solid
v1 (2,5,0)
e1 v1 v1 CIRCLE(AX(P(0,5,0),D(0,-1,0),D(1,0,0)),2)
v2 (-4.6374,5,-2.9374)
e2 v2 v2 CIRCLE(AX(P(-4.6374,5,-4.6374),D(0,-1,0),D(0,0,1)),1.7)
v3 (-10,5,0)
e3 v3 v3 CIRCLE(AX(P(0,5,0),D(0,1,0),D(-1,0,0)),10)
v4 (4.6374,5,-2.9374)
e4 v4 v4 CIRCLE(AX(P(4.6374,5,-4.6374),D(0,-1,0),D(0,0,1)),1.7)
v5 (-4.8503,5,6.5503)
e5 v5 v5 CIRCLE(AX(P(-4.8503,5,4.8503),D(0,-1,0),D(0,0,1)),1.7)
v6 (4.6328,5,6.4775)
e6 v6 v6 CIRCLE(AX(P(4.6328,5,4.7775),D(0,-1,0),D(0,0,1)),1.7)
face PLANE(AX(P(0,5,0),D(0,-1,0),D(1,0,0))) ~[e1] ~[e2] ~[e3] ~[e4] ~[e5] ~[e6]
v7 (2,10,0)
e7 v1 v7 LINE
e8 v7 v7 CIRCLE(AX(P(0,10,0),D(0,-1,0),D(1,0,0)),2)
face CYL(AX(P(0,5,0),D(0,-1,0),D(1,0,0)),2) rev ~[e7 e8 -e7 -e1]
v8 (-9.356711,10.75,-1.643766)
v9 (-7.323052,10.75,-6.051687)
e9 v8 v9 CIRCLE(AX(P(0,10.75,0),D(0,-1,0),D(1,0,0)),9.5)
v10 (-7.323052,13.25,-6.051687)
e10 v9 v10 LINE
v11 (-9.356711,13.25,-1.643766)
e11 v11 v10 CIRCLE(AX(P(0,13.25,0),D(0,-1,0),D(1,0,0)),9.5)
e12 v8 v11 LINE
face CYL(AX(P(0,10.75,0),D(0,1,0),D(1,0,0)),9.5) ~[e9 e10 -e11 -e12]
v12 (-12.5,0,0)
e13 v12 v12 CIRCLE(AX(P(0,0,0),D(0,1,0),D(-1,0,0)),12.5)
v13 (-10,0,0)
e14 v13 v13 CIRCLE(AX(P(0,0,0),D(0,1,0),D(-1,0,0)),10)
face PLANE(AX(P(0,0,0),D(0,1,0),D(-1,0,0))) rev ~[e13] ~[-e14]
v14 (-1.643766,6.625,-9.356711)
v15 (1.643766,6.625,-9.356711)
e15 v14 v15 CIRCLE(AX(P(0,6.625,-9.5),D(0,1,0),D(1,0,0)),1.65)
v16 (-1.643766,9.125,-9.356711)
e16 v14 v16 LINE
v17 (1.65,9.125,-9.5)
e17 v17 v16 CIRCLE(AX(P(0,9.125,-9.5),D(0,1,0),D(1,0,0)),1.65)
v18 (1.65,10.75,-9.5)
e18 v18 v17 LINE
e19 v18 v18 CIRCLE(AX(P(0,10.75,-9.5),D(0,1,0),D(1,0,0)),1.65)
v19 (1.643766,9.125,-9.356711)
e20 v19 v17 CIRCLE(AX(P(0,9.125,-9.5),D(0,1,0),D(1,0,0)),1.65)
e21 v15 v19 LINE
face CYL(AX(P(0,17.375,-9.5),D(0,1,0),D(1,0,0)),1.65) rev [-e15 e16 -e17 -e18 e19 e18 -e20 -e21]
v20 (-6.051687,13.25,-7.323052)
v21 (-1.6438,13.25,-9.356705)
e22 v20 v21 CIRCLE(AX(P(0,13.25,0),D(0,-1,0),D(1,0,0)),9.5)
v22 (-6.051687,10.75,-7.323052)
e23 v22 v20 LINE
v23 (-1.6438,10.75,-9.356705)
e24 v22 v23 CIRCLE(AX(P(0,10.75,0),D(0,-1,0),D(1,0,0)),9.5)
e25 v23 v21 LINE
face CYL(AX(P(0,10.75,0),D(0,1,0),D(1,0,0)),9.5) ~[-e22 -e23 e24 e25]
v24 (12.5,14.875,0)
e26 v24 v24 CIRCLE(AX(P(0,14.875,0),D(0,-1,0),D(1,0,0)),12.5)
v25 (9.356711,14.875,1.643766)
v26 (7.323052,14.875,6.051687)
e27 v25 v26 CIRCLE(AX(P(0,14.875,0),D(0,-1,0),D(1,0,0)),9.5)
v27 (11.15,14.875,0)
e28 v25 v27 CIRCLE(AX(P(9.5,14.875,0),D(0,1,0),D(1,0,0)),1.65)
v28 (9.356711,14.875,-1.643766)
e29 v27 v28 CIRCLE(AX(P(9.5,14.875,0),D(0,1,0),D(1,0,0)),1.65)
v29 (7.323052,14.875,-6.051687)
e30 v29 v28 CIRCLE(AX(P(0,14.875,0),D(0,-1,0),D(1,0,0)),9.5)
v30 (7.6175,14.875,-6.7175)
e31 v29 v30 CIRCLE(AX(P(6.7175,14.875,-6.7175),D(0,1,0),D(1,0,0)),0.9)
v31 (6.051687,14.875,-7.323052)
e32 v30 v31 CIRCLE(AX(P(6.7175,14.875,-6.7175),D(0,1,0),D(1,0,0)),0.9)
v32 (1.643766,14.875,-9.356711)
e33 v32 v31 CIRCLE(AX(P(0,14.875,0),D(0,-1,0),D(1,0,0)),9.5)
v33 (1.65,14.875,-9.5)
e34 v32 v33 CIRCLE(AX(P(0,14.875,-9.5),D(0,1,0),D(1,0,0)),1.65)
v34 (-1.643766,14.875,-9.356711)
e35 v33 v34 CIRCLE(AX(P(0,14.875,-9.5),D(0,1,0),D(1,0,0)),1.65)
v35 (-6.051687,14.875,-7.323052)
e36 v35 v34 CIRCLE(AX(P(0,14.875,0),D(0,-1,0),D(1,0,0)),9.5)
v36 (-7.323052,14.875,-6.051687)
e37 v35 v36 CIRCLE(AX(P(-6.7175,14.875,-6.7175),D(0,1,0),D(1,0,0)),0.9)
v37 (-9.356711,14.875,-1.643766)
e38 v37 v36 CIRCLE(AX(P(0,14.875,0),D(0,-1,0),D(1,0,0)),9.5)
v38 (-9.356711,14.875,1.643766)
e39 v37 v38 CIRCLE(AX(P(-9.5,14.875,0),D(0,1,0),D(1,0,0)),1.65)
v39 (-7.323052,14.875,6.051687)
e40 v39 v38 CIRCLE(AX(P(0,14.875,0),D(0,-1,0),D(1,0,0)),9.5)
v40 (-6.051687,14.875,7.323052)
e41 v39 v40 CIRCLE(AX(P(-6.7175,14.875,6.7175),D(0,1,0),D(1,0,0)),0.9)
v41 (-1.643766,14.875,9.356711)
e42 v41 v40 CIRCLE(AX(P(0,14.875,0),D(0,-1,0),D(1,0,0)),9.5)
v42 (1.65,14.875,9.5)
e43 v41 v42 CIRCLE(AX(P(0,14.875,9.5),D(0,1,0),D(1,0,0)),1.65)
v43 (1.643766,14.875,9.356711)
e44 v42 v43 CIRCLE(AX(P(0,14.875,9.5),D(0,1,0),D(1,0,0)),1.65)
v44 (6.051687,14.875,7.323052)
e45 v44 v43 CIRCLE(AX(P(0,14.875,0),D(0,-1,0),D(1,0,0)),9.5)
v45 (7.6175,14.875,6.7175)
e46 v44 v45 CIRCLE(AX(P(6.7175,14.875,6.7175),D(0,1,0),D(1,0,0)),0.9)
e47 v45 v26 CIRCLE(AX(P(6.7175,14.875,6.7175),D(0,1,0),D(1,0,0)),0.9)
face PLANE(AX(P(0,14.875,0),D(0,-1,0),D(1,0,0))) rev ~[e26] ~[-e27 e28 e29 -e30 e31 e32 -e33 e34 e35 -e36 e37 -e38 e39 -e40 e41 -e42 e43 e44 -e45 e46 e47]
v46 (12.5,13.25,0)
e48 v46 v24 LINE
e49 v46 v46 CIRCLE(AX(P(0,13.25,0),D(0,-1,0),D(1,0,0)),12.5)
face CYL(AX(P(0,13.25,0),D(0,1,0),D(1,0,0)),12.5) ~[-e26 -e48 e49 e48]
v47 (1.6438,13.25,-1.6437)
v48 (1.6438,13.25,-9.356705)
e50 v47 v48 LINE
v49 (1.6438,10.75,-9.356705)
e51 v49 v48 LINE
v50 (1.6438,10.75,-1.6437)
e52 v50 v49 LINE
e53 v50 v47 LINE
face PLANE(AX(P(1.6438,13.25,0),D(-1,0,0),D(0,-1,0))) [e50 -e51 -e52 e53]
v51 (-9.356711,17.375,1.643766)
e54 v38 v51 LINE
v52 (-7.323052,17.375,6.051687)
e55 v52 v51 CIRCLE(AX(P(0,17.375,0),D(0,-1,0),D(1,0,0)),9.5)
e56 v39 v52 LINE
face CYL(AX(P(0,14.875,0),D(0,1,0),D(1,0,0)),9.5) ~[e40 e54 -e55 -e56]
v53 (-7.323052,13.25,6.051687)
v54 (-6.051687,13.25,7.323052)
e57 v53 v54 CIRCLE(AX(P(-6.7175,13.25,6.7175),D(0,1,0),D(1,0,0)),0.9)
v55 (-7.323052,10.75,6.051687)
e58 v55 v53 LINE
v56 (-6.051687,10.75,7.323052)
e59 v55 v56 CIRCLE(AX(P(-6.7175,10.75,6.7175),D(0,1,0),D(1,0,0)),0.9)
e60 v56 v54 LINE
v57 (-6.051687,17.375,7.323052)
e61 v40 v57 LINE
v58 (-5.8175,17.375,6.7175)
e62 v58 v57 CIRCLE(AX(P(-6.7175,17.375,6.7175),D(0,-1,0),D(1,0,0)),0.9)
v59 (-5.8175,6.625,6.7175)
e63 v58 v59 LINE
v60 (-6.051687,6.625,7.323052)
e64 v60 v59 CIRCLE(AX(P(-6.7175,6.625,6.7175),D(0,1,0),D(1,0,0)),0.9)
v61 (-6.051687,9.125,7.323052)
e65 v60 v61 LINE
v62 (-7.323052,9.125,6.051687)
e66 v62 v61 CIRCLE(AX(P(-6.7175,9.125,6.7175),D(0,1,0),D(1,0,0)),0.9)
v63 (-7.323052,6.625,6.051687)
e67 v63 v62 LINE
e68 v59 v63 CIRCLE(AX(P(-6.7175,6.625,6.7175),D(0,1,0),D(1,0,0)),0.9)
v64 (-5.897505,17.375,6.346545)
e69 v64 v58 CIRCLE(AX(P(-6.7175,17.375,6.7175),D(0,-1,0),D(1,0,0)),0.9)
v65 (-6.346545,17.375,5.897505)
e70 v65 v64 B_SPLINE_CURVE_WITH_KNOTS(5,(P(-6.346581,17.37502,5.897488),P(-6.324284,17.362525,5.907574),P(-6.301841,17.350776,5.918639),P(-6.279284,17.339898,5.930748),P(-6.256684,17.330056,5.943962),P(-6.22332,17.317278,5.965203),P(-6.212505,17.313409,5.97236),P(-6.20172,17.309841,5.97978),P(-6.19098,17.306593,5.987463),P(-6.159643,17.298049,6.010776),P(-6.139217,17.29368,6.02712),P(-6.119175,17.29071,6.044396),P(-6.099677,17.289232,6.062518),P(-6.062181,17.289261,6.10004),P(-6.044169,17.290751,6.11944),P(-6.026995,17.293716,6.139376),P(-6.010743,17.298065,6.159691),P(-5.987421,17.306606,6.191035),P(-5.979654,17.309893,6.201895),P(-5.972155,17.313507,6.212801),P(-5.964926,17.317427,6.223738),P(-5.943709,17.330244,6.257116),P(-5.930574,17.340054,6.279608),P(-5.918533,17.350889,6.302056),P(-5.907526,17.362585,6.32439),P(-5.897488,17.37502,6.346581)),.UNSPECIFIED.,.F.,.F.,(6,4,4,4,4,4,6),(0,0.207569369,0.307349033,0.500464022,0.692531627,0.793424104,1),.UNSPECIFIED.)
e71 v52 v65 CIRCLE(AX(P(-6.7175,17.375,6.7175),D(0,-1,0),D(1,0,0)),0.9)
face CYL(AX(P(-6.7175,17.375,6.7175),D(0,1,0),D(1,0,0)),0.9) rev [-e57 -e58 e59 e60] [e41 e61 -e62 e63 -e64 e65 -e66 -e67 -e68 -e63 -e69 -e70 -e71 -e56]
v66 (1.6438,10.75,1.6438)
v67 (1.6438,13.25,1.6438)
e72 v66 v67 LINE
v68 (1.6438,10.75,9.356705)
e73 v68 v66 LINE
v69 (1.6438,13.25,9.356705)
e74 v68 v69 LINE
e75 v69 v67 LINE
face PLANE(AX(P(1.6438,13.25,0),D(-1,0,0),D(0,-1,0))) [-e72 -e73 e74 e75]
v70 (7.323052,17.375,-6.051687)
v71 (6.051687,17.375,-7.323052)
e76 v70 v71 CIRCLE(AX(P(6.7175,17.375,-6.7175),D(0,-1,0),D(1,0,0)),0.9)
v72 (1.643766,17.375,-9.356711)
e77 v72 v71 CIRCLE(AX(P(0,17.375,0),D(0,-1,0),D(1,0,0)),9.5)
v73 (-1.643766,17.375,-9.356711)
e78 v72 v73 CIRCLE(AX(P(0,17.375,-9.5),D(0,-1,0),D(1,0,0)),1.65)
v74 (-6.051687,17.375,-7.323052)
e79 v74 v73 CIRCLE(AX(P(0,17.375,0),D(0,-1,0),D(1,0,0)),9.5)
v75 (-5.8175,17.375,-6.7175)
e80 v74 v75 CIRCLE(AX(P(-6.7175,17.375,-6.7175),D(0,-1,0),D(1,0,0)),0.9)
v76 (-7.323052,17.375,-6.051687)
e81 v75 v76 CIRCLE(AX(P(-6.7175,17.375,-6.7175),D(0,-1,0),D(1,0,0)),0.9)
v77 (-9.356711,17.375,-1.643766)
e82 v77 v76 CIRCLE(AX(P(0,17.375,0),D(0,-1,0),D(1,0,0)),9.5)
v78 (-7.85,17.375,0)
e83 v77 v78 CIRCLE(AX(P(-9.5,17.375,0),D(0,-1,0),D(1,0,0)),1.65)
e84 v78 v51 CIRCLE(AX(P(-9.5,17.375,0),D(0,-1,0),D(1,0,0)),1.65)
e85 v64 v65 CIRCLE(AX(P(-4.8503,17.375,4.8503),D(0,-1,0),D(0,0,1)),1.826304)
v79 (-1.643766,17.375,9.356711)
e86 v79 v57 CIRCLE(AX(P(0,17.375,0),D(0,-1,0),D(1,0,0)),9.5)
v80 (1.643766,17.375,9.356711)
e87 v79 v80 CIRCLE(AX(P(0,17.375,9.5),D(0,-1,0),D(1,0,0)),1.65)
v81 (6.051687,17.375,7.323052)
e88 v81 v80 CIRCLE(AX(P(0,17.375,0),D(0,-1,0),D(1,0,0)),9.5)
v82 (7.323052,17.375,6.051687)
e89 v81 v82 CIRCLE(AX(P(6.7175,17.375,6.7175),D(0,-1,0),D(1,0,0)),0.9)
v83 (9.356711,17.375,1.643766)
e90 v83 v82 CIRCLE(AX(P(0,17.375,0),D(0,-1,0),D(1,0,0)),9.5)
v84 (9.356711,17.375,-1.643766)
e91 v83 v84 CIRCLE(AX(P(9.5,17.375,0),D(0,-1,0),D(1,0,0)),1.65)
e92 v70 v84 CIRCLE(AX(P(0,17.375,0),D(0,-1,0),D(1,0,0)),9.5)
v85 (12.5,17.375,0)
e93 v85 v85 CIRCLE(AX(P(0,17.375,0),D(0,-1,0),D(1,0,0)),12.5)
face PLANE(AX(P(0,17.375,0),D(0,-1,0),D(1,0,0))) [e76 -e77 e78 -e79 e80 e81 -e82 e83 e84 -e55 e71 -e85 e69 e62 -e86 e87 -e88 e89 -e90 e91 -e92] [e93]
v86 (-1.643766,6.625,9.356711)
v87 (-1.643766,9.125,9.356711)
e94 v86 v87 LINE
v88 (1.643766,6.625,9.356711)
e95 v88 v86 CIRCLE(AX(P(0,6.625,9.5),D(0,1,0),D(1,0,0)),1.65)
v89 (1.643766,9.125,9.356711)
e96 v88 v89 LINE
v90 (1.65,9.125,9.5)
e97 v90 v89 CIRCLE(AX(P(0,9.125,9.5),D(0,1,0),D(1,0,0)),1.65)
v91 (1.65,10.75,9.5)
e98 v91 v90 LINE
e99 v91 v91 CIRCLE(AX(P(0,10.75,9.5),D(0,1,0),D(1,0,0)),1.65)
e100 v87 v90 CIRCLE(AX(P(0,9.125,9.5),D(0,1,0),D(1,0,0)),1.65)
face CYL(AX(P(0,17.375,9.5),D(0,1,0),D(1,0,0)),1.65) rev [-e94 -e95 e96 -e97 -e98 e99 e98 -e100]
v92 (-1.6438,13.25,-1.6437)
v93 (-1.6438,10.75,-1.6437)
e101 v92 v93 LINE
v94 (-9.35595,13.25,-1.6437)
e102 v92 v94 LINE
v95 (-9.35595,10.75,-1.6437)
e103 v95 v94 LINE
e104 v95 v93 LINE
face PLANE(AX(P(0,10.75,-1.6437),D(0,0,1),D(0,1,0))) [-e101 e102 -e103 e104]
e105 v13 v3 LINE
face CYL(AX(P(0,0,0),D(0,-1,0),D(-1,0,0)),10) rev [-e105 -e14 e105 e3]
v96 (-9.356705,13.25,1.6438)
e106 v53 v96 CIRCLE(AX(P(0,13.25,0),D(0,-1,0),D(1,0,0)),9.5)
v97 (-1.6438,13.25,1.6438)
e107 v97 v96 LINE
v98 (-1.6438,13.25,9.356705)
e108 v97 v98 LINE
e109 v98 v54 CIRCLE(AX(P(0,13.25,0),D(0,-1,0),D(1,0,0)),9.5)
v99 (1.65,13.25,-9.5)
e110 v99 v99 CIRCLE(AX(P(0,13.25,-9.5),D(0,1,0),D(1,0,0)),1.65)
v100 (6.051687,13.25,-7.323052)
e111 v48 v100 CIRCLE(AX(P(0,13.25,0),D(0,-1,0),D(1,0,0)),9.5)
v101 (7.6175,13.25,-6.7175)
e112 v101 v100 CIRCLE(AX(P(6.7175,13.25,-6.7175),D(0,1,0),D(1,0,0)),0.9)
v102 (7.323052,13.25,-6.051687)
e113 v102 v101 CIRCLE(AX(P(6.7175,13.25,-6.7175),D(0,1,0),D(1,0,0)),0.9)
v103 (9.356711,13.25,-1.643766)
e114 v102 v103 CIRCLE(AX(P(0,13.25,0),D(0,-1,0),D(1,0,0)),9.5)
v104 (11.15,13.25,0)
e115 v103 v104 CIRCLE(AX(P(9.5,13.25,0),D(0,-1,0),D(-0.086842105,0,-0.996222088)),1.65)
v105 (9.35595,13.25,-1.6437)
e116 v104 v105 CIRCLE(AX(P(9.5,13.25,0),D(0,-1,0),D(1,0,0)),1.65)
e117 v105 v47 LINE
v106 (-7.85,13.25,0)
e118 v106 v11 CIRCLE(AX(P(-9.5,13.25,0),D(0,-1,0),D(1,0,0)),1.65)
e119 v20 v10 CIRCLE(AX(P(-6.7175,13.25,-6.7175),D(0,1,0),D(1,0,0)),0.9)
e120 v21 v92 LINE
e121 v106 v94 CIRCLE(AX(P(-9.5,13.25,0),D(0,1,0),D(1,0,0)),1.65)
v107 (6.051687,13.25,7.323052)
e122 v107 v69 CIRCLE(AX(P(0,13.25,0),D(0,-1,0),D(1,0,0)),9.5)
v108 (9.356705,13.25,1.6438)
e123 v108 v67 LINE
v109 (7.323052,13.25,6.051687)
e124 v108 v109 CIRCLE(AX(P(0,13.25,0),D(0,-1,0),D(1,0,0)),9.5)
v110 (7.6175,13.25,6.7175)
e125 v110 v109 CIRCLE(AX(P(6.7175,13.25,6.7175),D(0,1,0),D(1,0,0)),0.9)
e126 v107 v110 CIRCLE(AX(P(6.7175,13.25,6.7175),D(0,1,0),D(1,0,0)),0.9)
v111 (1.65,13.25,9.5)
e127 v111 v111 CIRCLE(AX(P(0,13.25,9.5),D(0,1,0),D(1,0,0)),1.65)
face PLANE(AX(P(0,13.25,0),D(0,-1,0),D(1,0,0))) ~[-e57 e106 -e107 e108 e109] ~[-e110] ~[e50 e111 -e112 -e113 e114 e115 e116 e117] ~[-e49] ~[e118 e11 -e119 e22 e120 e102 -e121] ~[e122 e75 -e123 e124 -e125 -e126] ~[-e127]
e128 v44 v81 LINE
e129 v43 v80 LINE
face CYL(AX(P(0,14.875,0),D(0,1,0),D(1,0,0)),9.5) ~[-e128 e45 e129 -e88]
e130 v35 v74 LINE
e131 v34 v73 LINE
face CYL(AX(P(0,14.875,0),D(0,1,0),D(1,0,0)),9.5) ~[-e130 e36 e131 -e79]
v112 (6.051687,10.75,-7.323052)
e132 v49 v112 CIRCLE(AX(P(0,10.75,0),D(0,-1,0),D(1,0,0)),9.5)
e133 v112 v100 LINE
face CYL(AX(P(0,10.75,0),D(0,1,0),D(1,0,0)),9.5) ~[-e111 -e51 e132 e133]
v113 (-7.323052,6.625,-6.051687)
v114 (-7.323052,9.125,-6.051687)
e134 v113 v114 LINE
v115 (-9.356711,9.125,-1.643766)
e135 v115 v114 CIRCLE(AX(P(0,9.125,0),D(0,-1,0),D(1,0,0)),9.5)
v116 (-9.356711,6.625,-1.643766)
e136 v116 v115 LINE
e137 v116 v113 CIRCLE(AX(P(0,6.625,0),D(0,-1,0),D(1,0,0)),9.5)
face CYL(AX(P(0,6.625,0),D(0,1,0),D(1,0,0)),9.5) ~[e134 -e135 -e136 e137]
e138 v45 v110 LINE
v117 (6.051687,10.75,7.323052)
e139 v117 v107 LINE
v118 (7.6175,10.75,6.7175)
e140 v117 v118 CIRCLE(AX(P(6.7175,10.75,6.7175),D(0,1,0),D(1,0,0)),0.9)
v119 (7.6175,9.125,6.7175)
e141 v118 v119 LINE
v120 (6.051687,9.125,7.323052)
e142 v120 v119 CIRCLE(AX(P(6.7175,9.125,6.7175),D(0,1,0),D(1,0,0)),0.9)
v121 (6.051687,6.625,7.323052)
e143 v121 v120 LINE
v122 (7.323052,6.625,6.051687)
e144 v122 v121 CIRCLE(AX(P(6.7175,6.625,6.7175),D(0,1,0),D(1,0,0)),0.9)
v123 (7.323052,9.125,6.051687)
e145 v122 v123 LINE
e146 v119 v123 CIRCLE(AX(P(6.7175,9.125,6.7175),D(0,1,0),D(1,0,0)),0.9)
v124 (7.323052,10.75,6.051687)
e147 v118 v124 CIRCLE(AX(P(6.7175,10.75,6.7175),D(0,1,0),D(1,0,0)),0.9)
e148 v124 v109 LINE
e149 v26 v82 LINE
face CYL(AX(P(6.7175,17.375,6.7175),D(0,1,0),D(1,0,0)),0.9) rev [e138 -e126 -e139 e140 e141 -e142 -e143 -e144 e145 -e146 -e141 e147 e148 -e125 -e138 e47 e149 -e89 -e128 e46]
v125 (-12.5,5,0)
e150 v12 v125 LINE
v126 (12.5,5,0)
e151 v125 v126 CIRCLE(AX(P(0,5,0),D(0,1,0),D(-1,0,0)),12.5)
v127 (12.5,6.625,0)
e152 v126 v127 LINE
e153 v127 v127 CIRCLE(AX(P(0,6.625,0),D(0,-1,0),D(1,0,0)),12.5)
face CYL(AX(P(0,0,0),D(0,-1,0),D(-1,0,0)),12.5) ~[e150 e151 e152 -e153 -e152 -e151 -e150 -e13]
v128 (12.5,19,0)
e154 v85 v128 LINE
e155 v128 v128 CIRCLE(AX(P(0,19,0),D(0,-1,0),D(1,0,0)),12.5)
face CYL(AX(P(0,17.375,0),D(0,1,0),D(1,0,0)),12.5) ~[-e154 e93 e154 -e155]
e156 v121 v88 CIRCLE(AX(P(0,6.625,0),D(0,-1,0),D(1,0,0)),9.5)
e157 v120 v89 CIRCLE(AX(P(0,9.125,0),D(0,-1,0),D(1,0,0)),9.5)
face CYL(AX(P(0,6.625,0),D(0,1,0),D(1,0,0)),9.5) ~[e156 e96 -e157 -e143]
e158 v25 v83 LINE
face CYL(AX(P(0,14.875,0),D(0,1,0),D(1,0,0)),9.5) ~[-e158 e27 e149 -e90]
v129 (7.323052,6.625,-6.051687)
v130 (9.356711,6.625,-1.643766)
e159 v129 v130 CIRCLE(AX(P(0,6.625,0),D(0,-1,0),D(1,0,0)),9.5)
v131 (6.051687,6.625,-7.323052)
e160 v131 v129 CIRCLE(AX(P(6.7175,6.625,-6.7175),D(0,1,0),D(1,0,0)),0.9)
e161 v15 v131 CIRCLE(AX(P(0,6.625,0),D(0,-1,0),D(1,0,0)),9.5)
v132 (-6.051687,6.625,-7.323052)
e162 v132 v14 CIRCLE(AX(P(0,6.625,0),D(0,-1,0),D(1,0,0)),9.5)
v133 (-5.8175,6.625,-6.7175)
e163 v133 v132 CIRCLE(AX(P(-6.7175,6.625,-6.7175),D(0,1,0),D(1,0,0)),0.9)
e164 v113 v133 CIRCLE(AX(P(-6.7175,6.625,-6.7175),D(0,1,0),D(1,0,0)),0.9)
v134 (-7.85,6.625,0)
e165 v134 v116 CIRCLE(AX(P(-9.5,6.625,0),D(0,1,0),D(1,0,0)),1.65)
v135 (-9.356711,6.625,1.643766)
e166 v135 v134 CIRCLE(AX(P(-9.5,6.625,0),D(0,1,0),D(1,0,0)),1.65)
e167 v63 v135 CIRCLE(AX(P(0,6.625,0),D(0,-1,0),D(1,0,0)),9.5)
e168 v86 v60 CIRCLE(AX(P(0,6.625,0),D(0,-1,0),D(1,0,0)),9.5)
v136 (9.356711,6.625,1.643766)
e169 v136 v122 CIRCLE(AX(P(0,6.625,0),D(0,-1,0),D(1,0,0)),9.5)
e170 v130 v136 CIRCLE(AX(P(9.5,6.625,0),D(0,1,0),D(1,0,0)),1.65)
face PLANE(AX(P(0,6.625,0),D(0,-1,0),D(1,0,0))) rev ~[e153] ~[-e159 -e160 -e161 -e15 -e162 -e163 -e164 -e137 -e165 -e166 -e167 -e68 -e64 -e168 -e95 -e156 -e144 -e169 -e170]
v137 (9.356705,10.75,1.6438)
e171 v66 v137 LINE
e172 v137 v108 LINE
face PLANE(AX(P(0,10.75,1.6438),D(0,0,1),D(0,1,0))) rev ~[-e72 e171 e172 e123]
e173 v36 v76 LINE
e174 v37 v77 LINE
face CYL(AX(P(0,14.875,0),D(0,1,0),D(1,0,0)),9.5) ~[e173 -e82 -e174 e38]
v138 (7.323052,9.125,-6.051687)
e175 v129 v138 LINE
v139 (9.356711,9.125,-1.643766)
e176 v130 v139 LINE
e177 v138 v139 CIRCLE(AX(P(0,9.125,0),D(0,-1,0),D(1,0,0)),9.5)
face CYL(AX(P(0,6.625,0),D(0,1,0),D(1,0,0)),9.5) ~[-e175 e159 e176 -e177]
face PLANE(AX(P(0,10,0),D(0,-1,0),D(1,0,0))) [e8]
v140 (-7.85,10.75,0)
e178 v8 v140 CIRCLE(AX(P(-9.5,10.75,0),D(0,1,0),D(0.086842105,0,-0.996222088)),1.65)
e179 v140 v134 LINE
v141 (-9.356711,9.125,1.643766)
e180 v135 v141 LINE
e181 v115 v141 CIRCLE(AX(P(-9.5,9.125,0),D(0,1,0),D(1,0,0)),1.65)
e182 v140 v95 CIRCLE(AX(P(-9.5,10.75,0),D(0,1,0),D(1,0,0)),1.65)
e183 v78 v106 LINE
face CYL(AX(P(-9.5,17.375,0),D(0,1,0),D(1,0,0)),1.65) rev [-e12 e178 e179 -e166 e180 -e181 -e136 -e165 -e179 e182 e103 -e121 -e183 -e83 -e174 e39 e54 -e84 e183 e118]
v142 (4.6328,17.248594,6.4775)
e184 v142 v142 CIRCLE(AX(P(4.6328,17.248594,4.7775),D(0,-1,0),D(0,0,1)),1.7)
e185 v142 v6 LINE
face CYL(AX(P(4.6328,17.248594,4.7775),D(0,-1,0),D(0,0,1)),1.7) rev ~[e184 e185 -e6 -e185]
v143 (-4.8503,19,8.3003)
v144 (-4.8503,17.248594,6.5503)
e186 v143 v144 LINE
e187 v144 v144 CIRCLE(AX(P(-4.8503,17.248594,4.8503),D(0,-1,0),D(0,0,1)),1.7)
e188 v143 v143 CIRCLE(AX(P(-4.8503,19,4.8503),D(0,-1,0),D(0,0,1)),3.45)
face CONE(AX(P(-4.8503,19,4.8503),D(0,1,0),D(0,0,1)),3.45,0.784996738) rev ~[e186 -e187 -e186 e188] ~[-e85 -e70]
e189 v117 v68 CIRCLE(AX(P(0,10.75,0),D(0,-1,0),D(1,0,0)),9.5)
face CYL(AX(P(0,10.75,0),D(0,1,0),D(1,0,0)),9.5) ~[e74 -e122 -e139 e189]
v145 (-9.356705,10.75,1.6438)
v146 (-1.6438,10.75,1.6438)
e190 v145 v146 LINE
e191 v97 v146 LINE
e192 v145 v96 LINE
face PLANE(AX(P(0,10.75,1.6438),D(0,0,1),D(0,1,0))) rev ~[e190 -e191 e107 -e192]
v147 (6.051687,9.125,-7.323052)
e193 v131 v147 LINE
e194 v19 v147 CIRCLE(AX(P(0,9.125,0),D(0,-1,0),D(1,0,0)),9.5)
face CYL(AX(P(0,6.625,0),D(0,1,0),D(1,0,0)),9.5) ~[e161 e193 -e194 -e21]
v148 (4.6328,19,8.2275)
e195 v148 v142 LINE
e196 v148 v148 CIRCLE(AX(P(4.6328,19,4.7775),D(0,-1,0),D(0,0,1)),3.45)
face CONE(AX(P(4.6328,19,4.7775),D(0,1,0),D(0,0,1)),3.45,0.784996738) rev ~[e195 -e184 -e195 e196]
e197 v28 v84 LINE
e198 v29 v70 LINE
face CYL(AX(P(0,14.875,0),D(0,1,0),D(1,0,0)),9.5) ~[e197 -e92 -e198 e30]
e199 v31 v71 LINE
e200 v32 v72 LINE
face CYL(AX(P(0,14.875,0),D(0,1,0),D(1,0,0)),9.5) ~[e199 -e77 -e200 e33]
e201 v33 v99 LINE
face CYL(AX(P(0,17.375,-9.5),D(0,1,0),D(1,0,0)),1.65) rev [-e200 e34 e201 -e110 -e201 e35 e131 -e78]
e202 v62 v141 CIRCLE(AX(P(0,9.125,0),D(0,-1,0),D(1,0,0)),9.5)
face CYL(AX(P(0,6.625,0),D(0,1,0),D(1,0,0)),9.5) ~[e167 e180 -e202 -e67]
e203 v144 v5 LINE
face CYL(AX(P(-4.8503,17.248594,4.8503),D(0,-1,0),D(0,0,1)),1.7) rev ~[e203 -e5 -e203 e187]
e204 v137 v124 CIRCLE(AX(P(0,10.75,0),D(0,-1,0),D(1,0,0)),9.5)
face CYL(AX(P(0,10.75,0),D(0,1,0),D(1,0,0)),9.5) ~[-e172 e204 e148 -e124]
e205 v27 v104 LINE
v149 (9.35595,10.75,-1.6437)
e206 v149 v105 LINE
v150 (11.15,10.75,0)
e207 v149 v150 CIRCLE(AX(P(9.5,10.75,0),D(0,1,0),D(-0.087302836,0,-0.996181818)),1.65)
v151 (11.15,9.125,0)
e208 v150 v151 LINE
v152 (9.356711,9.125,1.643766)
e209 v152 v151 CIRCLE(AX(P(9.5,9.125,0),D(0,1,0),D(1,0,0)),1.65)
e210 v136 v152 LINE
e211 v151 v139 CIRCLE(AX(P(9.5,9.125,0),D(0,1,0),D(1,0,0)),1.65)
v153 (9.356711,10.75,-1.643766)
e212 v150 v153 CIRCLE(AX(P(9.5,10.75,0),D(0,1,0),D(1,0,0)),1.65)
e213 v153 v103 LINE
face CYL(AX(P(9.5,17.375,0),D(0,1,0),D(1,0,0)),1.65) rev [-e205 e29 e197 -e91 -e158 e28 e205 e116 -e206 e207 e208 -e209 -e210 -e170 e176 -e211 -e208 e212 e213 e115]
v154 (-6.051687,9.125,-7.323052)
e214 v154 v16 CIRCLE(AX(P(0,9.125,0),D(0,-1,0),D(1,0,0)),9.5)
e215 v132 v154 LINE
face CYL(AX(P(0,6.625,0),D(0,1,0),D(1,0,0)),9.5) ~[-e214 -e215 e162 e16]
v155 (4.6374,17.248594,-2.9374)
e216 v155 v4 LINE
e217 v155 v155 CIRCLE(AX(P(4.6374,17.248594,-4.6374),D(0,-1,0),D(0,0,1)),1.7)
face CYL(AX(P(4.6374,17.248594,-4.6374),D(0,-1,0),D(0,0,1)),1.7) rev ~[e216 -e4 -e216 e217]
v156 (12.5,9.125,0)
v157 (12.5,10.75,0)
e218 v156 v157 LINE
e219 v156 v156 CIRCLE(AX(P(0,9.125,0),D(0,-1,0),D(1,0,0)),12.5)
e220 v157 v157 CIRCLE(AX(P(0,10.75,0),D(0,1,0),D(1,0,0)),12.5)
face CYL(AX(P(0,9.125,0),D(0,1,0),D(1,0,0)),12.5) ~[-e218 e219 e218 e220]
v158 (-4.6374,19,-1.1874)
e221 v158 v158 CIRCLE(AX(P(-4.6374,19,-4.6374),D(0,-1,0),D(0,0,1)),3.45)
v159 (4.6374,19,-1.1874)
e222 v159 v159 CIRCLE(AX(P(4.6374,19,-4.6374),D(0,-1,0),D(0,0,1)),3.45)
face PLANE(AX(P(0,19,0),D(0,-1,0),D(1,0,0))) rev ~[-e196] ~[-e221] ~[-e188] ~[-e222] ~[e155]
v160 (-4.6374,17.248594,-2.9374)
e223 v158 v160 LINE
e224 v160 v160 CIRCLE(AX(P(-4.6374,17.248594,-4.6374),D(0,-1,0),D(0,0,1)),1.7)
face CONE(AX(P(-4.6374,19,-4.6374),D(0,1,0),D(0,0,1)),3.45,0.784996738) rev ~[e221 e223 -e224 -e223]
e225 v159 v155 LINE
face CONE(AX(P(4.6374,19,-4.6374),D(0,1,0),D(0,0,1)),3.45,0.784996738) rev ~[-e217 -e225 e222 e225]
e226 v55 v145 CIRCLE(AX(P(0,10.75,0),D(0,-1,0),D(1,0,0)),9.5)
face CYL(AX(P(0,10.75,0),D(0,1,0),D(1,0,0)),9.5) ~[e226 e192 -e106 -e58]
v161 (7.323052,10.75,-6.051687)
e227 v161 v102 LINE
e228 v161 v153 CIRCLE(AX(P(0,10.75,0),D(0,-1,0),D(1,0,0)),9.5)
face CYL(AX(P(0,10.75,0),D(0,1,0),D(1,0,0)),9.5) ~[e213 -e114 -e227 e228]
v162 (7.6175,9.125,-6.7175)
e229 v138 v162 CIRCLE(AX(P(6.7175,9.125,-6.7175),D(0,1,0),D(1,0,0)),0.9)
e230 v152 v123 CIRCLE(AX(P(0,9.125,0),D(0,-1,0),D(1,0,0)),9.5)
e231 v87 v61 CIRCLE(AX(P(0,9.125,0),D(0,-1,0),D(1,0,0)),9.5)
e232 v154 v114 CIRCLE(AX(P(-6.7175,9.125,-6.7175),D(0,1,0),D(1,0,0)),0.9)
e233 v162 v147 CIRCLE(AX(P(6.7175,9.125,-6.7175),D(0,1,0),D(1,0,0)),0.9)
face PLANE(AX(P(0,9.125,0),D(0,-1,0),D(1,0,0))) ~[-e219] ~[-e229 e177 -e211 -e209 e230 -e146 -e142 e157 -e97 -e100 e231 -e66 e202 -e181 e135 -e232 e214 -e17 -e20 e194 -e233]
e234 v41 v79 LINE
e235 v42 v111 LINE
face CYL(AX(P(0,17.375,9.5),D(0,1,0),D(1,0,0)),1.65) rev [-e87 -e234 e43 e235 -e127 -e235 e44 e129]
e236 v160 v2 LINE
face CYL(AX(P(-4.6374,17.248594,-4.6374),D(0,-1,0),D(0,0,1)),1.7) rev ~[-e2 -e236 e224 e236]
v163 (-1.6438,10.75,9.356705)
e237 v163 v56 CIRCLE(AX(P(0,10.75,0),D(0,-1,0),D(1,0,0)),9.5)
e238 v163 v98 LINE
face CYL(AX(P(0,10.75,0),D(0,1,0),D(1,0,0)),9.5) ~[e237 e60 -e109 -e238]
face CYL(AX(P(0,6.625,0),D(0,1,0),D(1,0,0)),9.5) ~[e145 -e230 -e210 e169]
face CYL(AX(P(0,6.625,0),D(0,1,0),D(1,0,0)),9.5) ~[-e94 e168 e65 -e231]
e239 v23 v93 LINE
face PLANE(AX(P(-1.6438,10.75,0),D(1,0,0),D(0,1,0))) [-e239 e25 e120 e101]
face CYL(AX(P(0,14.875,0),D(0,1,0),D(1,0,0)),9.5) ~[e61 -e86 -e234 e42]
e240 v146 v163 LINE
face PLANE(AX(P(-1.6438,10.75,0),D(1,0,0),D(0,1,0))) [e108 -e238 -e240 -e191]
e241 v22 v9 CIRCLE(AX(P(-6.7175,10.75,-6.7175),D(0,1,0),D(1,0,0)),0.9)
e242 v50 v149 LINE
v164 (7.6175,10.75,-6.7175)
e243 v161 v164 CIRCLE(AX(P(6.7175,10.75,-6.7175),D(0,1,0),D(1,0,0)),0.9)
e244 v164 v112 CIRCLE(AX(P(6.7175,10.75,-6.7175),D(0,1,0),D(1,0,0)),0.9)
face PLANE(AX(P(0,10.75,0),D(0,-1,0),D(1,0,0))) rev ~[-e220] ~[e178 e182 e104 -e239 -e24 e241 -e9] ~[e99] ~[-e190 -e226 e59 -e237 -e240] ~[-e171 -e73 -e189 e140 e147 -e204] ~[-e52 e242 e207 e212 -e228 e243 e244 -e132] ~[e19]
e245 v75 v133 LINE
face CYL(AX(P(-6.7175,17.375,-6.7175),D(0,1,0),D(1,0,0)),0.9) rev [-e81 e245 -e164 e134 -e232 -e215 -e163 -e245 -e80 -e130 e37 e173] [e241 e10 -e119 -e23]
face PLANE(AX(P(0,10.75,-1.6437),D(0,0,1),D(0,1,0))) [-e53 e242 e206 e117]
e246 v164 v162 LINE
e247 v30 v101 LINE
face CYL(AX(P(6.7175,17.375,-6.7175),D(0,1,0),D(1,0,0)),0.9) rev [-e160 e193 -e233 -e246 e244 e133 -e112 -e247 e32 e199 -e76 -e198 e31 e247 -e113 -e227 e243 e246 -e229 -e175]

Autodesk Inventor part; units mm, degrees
ref_plane "YZ Plane" through (0, 0, 0) normal (1, 0, 0) x (0, 1, 0)
sketch "Szkic1" plane through (0, 0, 0) normal (0, 1, 0) x (-1, 0, 0)
  circle A0 centre (0, 0) radius 12.5
  circle A1 centre (0, 0) radius 10
  dimension "d0" = 20
  dimension "d2" = 25
extrude "Wyciągnięcie proste1" add sketch "Szkic1" along normal blind 5
ref_plane "Płaszczyzna konstrukcyjna1" through (0, -12, 0) normal (0, 0, -1) x (-1, 0, 0)
sketch "Szkic5" plane through (0, -12, 0) normal (0, 0, -1) x (-1, 0, 0)
  line L0 (12.5, 17) -> (-12.5, 17) projected
  line L1 (0, 17) -> (-12.5, 17)
  line L2 (-12.5, 17) -> (-12.5, 18.625)
  line L3 (-12.5, 18.625) -> (0, 18.625)
  line L4 (0, 18.625) -> (0, 17)
  line L5 (0, 18.625) -> (-9.5, 18.625)
  line L6 (-9.5, 18.625) -> (-9.5, 21.125)
  line L7 (-9.5, 21.125) -> (0, 21.125)
  line L8 (0, 21.125) -> (0, 18.625)
  line L9 (0, 21.125) -> (-12.5, 21.125)
  line L10 (-12.5, 21.125) -> (-12.5, 22.75)
  line L11 (-12.5, 22.75) -> (0, 22.75)
  line L12 (0, 22.75) -> (0, 21.125)
  line L13 (0, 22.75) -> (-9.5, 22.75)
  line L14 (-9.5, 22.75) -> (-9.5, 25.25)
  line L15 (-9.5, 25.25) -> (0, 25.25)
  line L16 (0, 25.25) -> (0, 22.75)
  line L17 (0, 25.25) -> (-12.5, 25.25)
  line L18 (-12.5, 25.25) -> (-12.5, 26.875)
  line L19 (-12.5, 26.875) -> (0, 26.875)
  line L20 (0, 26.875) -> (0, 25.25)
  line L21 (0, 26.875) -> (-9.5, 26.875)
  line L22 (-9.5, 26.875) -> (-9.5, 29.375)
  line L23 (-9.5, 29.375) -> (0, 29.375)
  line L24 (0, 29.375) -> (0, 26.875)
  line L25 (0, 29.375) -> (-12.5, 29.375)
  line L26 (-12.5, 29.375) -> (-12.5, 31)
  line L27 (-12.5, 31) -> (0, 31)
  line L28 (0, 31) -> (0, 29.375)
  line L29 (-12.5, 12) -> (-12.5, 17) construction
  line L30 (-12.5, 12) -> (-12.5, 17) construction
  line L31 (-12.5, 12) -> (12.5, 12) construction
  point P0 (0, 12)
  dimension "d13" = 2.5
  dimension "d17" = 19
  dimension "d18" = 3
revolve "Obrót1" add sketch "Szkic5" angle 360 about axis through (0, 10.75, 0) along (0, -1, 0)
sketch "Szkic7" plane through (0, 17.375, 0) normal (0, -1, 0) x (1, 0, 0)
  circle A0 centre (0, 0) radius 9.5 projected
  circle A1 centre (0, 9.5) radius 1.65
  circle A2 centre (0, 0) radius 10 projected
  circle A3 centre (0, 0) radius 9.5 projected
  circle A4 centre (-9.5, 0) radius 1.65
  circle A5 centre (0, -9.5) radius 1.65
  circle A6 centre (9.5, 0) radius 1.65
  circle A7 centre (6.7175, -6.7175) radius 0.9
  circle A8 centre (6.7175, 6.7175) radius 0.9
  circle A9 centre (-6.7175, 6.7175) radius 0.9
  circle A10 centre (-6.7175, -6.7175) radius 0.9
  line L0 (6.7175, 6.7175) -> (0, 0) construction
  line L1 (0, 0) -> (-6.7175, 6.7175) construction
  circle A11 centre (0, 0) radius 12.5 construction
  line L2 (0, 0) -> (-6.7175, -6.7175) construction
  line L3 (0, 0) -> (6.7175, -6.7175) construction
  line L4 (17.5, 0) -> (-17.5, 0) construction
  dimension "d23" = 45
  dimension "d24" = 45
  dimension "d25" = 3.3
  dimension "d47" = 1.8
extrude "Wyciągnięcie proste6" cut sketch "Szkic7" along normal up to surface (10.75 mm away) contours A0 A6 | A0 A6 A2 | A8 A0 | A0 A8 A2 | A6 A2 | A7 A2 A0 | A0 A7 | A2 A8 | A7 A2 | A1 A0 | A0 A1 A2 | A5 A2 A0 | A0 A5 | A2 A1 | A5 A2 | A9 A0 | A0 A9 A2 | A10 A2 A0 | A0 A10 | A2 A9 | A10 A2 | A4 A0 | A0 A4 A2 | A2 A4
sketch "Szkic8" plane through (0, -12, 0) normal (0, 0, -1) x (-1, 0, 0)
  line L0 (6.0517, 25.25) -> (1.6438, 25.25) projected
  line L1 (-1.6438, 25.25) -> (-1.6438, 22.75) projected
  line L2 (1.6438, 25.25) -> (-1.6438, 25.25)
  line L3 (-1.6438, 25.25) -> (-1.6438, 22.75)
  line L4 (-1.6438, 22.75) -> (1.6438, 22.75)
  line L5 (1.6438, 22.75) -> (1.6438, 25.25)
  point P0 (0, 12)
  point P1 (1.65, 22.75)
extrude "Wyciągnięcie proste7" cut sketch "Szkic8" along normal through all both and the other way through all
sketch "Szkic9" plane through (0, 5, 0) normal (0, -1, 0) x (1, 0, 0)
  line L0 (0, 0) -> (-3.4352, 0)
  line L1 (-3.4352, 0) -> (-3.4352, -2.2657)
  line L2 (-3.4352, -2.2657) -> (0, -2.2657)
  line L3 (0, -2.2657) -> (0, 0)
  dimension "d30" = 3.4352
  dimension "d31" = 2.2658
extrude "Wyciągnięcie proste8" add sketch "Szkic9" along normal blind 15
ref_plane "Płaszczyzna konstrukcyjna2" through (0, -10, -2.2657) normal (1, 0, 0) x (0, 0, -1)
sketch "Szkic10" plane through (0, -10, 0) normal (0, -1, 0) x (1, 0, 0)
  line L0 (0, 0) -> (-3.4352, 0) projected
  line L1 (-3.4352, -2.2657) -> (0, -2.2657) projected
  line L2 (0, 0) -> (-3.4352, 0)
  line L3 (-3.4352, 0) -> (-3.4352, -2.2657)
  line L4 (-3.4352, -2.2657) -> (0, -2.2657)
  line L5 (0, -2.2657) -> (0, 0)
extrude "Wyciągnięcie proste9" cut sketch "Szkic10" against normal up to surface (15 mm away)
sketch "Szkic11" plane through (0, -10, -2.2657) normal (1, 0, 0) x (0, 0, -1)
  line L0 (-3.9095, 20.75) -> (-3.9095, 23.25) projected
  line L1 (-0.622, 20.75) -> (-0.622, 23.25) projected
  line L2 (-3.9095, 20.75) -> (-0.622, 20.75)
  line L3 (-0.622, 20.75) -> (-0.622, 23.25)
  line L4 (-0.622, 23.25) -> (-3.9095, 23.25)
  line L5 (-3.9095, 23.25) -> (-3.9095, 20.75)
  point P0 (-2.2657, 10)
extrude "Wyciągnięcie proste10" cut sketch "Szkic11" along normal through all both and the other way through all
sketch "Szkic12" plane through (0, 19, 0) normal (0, 1, 0) x (1, 0, 0)
  line L0 (0, 0) -> (4.6374, 4.6374) construction
  line L1 (0, 0) -> (6.5583, 0) construction
  line L2 (0, 0) -> (-4.6374, 4.6374) construction
  line L3 (0, 0) -> (-4.8503, -4.8503) construction
  line L4 (0, 0) -> (4.8503, -4.8503) construction
  point P0 (-4.6374, 4.6374)
  point P1 (4.6328, -4.7775)
  dimension "d39" = 6.5583
hole "Otwór1" at (4.6374, 19, -4.6374) at (-4.6374, 19, -4.6374) at (-4.8503, 19, 4.8503) at (4.6328, 19, 4.7775) direction (0, -1, 0) diameter 3.4 end through all countersink diameter 6.9 countersink angle 89.954 clearance for "Śruba ze łbem stożkowym ISO 2009/7046" size "M3" standard "ISO"
sketch "Szkic13" plane through (0, 5, 0) normal (0, -1, 0) x (1, 0, 0)
  circle A0 centre (0, 0) radius 2
  dimension "d48" = 4
extrude "Wyciągnięcie proste11" cut sketch "Szkic13" against normal blind 5
properties part number "Felga" material "Tworzywo sztuczne PMMA"
